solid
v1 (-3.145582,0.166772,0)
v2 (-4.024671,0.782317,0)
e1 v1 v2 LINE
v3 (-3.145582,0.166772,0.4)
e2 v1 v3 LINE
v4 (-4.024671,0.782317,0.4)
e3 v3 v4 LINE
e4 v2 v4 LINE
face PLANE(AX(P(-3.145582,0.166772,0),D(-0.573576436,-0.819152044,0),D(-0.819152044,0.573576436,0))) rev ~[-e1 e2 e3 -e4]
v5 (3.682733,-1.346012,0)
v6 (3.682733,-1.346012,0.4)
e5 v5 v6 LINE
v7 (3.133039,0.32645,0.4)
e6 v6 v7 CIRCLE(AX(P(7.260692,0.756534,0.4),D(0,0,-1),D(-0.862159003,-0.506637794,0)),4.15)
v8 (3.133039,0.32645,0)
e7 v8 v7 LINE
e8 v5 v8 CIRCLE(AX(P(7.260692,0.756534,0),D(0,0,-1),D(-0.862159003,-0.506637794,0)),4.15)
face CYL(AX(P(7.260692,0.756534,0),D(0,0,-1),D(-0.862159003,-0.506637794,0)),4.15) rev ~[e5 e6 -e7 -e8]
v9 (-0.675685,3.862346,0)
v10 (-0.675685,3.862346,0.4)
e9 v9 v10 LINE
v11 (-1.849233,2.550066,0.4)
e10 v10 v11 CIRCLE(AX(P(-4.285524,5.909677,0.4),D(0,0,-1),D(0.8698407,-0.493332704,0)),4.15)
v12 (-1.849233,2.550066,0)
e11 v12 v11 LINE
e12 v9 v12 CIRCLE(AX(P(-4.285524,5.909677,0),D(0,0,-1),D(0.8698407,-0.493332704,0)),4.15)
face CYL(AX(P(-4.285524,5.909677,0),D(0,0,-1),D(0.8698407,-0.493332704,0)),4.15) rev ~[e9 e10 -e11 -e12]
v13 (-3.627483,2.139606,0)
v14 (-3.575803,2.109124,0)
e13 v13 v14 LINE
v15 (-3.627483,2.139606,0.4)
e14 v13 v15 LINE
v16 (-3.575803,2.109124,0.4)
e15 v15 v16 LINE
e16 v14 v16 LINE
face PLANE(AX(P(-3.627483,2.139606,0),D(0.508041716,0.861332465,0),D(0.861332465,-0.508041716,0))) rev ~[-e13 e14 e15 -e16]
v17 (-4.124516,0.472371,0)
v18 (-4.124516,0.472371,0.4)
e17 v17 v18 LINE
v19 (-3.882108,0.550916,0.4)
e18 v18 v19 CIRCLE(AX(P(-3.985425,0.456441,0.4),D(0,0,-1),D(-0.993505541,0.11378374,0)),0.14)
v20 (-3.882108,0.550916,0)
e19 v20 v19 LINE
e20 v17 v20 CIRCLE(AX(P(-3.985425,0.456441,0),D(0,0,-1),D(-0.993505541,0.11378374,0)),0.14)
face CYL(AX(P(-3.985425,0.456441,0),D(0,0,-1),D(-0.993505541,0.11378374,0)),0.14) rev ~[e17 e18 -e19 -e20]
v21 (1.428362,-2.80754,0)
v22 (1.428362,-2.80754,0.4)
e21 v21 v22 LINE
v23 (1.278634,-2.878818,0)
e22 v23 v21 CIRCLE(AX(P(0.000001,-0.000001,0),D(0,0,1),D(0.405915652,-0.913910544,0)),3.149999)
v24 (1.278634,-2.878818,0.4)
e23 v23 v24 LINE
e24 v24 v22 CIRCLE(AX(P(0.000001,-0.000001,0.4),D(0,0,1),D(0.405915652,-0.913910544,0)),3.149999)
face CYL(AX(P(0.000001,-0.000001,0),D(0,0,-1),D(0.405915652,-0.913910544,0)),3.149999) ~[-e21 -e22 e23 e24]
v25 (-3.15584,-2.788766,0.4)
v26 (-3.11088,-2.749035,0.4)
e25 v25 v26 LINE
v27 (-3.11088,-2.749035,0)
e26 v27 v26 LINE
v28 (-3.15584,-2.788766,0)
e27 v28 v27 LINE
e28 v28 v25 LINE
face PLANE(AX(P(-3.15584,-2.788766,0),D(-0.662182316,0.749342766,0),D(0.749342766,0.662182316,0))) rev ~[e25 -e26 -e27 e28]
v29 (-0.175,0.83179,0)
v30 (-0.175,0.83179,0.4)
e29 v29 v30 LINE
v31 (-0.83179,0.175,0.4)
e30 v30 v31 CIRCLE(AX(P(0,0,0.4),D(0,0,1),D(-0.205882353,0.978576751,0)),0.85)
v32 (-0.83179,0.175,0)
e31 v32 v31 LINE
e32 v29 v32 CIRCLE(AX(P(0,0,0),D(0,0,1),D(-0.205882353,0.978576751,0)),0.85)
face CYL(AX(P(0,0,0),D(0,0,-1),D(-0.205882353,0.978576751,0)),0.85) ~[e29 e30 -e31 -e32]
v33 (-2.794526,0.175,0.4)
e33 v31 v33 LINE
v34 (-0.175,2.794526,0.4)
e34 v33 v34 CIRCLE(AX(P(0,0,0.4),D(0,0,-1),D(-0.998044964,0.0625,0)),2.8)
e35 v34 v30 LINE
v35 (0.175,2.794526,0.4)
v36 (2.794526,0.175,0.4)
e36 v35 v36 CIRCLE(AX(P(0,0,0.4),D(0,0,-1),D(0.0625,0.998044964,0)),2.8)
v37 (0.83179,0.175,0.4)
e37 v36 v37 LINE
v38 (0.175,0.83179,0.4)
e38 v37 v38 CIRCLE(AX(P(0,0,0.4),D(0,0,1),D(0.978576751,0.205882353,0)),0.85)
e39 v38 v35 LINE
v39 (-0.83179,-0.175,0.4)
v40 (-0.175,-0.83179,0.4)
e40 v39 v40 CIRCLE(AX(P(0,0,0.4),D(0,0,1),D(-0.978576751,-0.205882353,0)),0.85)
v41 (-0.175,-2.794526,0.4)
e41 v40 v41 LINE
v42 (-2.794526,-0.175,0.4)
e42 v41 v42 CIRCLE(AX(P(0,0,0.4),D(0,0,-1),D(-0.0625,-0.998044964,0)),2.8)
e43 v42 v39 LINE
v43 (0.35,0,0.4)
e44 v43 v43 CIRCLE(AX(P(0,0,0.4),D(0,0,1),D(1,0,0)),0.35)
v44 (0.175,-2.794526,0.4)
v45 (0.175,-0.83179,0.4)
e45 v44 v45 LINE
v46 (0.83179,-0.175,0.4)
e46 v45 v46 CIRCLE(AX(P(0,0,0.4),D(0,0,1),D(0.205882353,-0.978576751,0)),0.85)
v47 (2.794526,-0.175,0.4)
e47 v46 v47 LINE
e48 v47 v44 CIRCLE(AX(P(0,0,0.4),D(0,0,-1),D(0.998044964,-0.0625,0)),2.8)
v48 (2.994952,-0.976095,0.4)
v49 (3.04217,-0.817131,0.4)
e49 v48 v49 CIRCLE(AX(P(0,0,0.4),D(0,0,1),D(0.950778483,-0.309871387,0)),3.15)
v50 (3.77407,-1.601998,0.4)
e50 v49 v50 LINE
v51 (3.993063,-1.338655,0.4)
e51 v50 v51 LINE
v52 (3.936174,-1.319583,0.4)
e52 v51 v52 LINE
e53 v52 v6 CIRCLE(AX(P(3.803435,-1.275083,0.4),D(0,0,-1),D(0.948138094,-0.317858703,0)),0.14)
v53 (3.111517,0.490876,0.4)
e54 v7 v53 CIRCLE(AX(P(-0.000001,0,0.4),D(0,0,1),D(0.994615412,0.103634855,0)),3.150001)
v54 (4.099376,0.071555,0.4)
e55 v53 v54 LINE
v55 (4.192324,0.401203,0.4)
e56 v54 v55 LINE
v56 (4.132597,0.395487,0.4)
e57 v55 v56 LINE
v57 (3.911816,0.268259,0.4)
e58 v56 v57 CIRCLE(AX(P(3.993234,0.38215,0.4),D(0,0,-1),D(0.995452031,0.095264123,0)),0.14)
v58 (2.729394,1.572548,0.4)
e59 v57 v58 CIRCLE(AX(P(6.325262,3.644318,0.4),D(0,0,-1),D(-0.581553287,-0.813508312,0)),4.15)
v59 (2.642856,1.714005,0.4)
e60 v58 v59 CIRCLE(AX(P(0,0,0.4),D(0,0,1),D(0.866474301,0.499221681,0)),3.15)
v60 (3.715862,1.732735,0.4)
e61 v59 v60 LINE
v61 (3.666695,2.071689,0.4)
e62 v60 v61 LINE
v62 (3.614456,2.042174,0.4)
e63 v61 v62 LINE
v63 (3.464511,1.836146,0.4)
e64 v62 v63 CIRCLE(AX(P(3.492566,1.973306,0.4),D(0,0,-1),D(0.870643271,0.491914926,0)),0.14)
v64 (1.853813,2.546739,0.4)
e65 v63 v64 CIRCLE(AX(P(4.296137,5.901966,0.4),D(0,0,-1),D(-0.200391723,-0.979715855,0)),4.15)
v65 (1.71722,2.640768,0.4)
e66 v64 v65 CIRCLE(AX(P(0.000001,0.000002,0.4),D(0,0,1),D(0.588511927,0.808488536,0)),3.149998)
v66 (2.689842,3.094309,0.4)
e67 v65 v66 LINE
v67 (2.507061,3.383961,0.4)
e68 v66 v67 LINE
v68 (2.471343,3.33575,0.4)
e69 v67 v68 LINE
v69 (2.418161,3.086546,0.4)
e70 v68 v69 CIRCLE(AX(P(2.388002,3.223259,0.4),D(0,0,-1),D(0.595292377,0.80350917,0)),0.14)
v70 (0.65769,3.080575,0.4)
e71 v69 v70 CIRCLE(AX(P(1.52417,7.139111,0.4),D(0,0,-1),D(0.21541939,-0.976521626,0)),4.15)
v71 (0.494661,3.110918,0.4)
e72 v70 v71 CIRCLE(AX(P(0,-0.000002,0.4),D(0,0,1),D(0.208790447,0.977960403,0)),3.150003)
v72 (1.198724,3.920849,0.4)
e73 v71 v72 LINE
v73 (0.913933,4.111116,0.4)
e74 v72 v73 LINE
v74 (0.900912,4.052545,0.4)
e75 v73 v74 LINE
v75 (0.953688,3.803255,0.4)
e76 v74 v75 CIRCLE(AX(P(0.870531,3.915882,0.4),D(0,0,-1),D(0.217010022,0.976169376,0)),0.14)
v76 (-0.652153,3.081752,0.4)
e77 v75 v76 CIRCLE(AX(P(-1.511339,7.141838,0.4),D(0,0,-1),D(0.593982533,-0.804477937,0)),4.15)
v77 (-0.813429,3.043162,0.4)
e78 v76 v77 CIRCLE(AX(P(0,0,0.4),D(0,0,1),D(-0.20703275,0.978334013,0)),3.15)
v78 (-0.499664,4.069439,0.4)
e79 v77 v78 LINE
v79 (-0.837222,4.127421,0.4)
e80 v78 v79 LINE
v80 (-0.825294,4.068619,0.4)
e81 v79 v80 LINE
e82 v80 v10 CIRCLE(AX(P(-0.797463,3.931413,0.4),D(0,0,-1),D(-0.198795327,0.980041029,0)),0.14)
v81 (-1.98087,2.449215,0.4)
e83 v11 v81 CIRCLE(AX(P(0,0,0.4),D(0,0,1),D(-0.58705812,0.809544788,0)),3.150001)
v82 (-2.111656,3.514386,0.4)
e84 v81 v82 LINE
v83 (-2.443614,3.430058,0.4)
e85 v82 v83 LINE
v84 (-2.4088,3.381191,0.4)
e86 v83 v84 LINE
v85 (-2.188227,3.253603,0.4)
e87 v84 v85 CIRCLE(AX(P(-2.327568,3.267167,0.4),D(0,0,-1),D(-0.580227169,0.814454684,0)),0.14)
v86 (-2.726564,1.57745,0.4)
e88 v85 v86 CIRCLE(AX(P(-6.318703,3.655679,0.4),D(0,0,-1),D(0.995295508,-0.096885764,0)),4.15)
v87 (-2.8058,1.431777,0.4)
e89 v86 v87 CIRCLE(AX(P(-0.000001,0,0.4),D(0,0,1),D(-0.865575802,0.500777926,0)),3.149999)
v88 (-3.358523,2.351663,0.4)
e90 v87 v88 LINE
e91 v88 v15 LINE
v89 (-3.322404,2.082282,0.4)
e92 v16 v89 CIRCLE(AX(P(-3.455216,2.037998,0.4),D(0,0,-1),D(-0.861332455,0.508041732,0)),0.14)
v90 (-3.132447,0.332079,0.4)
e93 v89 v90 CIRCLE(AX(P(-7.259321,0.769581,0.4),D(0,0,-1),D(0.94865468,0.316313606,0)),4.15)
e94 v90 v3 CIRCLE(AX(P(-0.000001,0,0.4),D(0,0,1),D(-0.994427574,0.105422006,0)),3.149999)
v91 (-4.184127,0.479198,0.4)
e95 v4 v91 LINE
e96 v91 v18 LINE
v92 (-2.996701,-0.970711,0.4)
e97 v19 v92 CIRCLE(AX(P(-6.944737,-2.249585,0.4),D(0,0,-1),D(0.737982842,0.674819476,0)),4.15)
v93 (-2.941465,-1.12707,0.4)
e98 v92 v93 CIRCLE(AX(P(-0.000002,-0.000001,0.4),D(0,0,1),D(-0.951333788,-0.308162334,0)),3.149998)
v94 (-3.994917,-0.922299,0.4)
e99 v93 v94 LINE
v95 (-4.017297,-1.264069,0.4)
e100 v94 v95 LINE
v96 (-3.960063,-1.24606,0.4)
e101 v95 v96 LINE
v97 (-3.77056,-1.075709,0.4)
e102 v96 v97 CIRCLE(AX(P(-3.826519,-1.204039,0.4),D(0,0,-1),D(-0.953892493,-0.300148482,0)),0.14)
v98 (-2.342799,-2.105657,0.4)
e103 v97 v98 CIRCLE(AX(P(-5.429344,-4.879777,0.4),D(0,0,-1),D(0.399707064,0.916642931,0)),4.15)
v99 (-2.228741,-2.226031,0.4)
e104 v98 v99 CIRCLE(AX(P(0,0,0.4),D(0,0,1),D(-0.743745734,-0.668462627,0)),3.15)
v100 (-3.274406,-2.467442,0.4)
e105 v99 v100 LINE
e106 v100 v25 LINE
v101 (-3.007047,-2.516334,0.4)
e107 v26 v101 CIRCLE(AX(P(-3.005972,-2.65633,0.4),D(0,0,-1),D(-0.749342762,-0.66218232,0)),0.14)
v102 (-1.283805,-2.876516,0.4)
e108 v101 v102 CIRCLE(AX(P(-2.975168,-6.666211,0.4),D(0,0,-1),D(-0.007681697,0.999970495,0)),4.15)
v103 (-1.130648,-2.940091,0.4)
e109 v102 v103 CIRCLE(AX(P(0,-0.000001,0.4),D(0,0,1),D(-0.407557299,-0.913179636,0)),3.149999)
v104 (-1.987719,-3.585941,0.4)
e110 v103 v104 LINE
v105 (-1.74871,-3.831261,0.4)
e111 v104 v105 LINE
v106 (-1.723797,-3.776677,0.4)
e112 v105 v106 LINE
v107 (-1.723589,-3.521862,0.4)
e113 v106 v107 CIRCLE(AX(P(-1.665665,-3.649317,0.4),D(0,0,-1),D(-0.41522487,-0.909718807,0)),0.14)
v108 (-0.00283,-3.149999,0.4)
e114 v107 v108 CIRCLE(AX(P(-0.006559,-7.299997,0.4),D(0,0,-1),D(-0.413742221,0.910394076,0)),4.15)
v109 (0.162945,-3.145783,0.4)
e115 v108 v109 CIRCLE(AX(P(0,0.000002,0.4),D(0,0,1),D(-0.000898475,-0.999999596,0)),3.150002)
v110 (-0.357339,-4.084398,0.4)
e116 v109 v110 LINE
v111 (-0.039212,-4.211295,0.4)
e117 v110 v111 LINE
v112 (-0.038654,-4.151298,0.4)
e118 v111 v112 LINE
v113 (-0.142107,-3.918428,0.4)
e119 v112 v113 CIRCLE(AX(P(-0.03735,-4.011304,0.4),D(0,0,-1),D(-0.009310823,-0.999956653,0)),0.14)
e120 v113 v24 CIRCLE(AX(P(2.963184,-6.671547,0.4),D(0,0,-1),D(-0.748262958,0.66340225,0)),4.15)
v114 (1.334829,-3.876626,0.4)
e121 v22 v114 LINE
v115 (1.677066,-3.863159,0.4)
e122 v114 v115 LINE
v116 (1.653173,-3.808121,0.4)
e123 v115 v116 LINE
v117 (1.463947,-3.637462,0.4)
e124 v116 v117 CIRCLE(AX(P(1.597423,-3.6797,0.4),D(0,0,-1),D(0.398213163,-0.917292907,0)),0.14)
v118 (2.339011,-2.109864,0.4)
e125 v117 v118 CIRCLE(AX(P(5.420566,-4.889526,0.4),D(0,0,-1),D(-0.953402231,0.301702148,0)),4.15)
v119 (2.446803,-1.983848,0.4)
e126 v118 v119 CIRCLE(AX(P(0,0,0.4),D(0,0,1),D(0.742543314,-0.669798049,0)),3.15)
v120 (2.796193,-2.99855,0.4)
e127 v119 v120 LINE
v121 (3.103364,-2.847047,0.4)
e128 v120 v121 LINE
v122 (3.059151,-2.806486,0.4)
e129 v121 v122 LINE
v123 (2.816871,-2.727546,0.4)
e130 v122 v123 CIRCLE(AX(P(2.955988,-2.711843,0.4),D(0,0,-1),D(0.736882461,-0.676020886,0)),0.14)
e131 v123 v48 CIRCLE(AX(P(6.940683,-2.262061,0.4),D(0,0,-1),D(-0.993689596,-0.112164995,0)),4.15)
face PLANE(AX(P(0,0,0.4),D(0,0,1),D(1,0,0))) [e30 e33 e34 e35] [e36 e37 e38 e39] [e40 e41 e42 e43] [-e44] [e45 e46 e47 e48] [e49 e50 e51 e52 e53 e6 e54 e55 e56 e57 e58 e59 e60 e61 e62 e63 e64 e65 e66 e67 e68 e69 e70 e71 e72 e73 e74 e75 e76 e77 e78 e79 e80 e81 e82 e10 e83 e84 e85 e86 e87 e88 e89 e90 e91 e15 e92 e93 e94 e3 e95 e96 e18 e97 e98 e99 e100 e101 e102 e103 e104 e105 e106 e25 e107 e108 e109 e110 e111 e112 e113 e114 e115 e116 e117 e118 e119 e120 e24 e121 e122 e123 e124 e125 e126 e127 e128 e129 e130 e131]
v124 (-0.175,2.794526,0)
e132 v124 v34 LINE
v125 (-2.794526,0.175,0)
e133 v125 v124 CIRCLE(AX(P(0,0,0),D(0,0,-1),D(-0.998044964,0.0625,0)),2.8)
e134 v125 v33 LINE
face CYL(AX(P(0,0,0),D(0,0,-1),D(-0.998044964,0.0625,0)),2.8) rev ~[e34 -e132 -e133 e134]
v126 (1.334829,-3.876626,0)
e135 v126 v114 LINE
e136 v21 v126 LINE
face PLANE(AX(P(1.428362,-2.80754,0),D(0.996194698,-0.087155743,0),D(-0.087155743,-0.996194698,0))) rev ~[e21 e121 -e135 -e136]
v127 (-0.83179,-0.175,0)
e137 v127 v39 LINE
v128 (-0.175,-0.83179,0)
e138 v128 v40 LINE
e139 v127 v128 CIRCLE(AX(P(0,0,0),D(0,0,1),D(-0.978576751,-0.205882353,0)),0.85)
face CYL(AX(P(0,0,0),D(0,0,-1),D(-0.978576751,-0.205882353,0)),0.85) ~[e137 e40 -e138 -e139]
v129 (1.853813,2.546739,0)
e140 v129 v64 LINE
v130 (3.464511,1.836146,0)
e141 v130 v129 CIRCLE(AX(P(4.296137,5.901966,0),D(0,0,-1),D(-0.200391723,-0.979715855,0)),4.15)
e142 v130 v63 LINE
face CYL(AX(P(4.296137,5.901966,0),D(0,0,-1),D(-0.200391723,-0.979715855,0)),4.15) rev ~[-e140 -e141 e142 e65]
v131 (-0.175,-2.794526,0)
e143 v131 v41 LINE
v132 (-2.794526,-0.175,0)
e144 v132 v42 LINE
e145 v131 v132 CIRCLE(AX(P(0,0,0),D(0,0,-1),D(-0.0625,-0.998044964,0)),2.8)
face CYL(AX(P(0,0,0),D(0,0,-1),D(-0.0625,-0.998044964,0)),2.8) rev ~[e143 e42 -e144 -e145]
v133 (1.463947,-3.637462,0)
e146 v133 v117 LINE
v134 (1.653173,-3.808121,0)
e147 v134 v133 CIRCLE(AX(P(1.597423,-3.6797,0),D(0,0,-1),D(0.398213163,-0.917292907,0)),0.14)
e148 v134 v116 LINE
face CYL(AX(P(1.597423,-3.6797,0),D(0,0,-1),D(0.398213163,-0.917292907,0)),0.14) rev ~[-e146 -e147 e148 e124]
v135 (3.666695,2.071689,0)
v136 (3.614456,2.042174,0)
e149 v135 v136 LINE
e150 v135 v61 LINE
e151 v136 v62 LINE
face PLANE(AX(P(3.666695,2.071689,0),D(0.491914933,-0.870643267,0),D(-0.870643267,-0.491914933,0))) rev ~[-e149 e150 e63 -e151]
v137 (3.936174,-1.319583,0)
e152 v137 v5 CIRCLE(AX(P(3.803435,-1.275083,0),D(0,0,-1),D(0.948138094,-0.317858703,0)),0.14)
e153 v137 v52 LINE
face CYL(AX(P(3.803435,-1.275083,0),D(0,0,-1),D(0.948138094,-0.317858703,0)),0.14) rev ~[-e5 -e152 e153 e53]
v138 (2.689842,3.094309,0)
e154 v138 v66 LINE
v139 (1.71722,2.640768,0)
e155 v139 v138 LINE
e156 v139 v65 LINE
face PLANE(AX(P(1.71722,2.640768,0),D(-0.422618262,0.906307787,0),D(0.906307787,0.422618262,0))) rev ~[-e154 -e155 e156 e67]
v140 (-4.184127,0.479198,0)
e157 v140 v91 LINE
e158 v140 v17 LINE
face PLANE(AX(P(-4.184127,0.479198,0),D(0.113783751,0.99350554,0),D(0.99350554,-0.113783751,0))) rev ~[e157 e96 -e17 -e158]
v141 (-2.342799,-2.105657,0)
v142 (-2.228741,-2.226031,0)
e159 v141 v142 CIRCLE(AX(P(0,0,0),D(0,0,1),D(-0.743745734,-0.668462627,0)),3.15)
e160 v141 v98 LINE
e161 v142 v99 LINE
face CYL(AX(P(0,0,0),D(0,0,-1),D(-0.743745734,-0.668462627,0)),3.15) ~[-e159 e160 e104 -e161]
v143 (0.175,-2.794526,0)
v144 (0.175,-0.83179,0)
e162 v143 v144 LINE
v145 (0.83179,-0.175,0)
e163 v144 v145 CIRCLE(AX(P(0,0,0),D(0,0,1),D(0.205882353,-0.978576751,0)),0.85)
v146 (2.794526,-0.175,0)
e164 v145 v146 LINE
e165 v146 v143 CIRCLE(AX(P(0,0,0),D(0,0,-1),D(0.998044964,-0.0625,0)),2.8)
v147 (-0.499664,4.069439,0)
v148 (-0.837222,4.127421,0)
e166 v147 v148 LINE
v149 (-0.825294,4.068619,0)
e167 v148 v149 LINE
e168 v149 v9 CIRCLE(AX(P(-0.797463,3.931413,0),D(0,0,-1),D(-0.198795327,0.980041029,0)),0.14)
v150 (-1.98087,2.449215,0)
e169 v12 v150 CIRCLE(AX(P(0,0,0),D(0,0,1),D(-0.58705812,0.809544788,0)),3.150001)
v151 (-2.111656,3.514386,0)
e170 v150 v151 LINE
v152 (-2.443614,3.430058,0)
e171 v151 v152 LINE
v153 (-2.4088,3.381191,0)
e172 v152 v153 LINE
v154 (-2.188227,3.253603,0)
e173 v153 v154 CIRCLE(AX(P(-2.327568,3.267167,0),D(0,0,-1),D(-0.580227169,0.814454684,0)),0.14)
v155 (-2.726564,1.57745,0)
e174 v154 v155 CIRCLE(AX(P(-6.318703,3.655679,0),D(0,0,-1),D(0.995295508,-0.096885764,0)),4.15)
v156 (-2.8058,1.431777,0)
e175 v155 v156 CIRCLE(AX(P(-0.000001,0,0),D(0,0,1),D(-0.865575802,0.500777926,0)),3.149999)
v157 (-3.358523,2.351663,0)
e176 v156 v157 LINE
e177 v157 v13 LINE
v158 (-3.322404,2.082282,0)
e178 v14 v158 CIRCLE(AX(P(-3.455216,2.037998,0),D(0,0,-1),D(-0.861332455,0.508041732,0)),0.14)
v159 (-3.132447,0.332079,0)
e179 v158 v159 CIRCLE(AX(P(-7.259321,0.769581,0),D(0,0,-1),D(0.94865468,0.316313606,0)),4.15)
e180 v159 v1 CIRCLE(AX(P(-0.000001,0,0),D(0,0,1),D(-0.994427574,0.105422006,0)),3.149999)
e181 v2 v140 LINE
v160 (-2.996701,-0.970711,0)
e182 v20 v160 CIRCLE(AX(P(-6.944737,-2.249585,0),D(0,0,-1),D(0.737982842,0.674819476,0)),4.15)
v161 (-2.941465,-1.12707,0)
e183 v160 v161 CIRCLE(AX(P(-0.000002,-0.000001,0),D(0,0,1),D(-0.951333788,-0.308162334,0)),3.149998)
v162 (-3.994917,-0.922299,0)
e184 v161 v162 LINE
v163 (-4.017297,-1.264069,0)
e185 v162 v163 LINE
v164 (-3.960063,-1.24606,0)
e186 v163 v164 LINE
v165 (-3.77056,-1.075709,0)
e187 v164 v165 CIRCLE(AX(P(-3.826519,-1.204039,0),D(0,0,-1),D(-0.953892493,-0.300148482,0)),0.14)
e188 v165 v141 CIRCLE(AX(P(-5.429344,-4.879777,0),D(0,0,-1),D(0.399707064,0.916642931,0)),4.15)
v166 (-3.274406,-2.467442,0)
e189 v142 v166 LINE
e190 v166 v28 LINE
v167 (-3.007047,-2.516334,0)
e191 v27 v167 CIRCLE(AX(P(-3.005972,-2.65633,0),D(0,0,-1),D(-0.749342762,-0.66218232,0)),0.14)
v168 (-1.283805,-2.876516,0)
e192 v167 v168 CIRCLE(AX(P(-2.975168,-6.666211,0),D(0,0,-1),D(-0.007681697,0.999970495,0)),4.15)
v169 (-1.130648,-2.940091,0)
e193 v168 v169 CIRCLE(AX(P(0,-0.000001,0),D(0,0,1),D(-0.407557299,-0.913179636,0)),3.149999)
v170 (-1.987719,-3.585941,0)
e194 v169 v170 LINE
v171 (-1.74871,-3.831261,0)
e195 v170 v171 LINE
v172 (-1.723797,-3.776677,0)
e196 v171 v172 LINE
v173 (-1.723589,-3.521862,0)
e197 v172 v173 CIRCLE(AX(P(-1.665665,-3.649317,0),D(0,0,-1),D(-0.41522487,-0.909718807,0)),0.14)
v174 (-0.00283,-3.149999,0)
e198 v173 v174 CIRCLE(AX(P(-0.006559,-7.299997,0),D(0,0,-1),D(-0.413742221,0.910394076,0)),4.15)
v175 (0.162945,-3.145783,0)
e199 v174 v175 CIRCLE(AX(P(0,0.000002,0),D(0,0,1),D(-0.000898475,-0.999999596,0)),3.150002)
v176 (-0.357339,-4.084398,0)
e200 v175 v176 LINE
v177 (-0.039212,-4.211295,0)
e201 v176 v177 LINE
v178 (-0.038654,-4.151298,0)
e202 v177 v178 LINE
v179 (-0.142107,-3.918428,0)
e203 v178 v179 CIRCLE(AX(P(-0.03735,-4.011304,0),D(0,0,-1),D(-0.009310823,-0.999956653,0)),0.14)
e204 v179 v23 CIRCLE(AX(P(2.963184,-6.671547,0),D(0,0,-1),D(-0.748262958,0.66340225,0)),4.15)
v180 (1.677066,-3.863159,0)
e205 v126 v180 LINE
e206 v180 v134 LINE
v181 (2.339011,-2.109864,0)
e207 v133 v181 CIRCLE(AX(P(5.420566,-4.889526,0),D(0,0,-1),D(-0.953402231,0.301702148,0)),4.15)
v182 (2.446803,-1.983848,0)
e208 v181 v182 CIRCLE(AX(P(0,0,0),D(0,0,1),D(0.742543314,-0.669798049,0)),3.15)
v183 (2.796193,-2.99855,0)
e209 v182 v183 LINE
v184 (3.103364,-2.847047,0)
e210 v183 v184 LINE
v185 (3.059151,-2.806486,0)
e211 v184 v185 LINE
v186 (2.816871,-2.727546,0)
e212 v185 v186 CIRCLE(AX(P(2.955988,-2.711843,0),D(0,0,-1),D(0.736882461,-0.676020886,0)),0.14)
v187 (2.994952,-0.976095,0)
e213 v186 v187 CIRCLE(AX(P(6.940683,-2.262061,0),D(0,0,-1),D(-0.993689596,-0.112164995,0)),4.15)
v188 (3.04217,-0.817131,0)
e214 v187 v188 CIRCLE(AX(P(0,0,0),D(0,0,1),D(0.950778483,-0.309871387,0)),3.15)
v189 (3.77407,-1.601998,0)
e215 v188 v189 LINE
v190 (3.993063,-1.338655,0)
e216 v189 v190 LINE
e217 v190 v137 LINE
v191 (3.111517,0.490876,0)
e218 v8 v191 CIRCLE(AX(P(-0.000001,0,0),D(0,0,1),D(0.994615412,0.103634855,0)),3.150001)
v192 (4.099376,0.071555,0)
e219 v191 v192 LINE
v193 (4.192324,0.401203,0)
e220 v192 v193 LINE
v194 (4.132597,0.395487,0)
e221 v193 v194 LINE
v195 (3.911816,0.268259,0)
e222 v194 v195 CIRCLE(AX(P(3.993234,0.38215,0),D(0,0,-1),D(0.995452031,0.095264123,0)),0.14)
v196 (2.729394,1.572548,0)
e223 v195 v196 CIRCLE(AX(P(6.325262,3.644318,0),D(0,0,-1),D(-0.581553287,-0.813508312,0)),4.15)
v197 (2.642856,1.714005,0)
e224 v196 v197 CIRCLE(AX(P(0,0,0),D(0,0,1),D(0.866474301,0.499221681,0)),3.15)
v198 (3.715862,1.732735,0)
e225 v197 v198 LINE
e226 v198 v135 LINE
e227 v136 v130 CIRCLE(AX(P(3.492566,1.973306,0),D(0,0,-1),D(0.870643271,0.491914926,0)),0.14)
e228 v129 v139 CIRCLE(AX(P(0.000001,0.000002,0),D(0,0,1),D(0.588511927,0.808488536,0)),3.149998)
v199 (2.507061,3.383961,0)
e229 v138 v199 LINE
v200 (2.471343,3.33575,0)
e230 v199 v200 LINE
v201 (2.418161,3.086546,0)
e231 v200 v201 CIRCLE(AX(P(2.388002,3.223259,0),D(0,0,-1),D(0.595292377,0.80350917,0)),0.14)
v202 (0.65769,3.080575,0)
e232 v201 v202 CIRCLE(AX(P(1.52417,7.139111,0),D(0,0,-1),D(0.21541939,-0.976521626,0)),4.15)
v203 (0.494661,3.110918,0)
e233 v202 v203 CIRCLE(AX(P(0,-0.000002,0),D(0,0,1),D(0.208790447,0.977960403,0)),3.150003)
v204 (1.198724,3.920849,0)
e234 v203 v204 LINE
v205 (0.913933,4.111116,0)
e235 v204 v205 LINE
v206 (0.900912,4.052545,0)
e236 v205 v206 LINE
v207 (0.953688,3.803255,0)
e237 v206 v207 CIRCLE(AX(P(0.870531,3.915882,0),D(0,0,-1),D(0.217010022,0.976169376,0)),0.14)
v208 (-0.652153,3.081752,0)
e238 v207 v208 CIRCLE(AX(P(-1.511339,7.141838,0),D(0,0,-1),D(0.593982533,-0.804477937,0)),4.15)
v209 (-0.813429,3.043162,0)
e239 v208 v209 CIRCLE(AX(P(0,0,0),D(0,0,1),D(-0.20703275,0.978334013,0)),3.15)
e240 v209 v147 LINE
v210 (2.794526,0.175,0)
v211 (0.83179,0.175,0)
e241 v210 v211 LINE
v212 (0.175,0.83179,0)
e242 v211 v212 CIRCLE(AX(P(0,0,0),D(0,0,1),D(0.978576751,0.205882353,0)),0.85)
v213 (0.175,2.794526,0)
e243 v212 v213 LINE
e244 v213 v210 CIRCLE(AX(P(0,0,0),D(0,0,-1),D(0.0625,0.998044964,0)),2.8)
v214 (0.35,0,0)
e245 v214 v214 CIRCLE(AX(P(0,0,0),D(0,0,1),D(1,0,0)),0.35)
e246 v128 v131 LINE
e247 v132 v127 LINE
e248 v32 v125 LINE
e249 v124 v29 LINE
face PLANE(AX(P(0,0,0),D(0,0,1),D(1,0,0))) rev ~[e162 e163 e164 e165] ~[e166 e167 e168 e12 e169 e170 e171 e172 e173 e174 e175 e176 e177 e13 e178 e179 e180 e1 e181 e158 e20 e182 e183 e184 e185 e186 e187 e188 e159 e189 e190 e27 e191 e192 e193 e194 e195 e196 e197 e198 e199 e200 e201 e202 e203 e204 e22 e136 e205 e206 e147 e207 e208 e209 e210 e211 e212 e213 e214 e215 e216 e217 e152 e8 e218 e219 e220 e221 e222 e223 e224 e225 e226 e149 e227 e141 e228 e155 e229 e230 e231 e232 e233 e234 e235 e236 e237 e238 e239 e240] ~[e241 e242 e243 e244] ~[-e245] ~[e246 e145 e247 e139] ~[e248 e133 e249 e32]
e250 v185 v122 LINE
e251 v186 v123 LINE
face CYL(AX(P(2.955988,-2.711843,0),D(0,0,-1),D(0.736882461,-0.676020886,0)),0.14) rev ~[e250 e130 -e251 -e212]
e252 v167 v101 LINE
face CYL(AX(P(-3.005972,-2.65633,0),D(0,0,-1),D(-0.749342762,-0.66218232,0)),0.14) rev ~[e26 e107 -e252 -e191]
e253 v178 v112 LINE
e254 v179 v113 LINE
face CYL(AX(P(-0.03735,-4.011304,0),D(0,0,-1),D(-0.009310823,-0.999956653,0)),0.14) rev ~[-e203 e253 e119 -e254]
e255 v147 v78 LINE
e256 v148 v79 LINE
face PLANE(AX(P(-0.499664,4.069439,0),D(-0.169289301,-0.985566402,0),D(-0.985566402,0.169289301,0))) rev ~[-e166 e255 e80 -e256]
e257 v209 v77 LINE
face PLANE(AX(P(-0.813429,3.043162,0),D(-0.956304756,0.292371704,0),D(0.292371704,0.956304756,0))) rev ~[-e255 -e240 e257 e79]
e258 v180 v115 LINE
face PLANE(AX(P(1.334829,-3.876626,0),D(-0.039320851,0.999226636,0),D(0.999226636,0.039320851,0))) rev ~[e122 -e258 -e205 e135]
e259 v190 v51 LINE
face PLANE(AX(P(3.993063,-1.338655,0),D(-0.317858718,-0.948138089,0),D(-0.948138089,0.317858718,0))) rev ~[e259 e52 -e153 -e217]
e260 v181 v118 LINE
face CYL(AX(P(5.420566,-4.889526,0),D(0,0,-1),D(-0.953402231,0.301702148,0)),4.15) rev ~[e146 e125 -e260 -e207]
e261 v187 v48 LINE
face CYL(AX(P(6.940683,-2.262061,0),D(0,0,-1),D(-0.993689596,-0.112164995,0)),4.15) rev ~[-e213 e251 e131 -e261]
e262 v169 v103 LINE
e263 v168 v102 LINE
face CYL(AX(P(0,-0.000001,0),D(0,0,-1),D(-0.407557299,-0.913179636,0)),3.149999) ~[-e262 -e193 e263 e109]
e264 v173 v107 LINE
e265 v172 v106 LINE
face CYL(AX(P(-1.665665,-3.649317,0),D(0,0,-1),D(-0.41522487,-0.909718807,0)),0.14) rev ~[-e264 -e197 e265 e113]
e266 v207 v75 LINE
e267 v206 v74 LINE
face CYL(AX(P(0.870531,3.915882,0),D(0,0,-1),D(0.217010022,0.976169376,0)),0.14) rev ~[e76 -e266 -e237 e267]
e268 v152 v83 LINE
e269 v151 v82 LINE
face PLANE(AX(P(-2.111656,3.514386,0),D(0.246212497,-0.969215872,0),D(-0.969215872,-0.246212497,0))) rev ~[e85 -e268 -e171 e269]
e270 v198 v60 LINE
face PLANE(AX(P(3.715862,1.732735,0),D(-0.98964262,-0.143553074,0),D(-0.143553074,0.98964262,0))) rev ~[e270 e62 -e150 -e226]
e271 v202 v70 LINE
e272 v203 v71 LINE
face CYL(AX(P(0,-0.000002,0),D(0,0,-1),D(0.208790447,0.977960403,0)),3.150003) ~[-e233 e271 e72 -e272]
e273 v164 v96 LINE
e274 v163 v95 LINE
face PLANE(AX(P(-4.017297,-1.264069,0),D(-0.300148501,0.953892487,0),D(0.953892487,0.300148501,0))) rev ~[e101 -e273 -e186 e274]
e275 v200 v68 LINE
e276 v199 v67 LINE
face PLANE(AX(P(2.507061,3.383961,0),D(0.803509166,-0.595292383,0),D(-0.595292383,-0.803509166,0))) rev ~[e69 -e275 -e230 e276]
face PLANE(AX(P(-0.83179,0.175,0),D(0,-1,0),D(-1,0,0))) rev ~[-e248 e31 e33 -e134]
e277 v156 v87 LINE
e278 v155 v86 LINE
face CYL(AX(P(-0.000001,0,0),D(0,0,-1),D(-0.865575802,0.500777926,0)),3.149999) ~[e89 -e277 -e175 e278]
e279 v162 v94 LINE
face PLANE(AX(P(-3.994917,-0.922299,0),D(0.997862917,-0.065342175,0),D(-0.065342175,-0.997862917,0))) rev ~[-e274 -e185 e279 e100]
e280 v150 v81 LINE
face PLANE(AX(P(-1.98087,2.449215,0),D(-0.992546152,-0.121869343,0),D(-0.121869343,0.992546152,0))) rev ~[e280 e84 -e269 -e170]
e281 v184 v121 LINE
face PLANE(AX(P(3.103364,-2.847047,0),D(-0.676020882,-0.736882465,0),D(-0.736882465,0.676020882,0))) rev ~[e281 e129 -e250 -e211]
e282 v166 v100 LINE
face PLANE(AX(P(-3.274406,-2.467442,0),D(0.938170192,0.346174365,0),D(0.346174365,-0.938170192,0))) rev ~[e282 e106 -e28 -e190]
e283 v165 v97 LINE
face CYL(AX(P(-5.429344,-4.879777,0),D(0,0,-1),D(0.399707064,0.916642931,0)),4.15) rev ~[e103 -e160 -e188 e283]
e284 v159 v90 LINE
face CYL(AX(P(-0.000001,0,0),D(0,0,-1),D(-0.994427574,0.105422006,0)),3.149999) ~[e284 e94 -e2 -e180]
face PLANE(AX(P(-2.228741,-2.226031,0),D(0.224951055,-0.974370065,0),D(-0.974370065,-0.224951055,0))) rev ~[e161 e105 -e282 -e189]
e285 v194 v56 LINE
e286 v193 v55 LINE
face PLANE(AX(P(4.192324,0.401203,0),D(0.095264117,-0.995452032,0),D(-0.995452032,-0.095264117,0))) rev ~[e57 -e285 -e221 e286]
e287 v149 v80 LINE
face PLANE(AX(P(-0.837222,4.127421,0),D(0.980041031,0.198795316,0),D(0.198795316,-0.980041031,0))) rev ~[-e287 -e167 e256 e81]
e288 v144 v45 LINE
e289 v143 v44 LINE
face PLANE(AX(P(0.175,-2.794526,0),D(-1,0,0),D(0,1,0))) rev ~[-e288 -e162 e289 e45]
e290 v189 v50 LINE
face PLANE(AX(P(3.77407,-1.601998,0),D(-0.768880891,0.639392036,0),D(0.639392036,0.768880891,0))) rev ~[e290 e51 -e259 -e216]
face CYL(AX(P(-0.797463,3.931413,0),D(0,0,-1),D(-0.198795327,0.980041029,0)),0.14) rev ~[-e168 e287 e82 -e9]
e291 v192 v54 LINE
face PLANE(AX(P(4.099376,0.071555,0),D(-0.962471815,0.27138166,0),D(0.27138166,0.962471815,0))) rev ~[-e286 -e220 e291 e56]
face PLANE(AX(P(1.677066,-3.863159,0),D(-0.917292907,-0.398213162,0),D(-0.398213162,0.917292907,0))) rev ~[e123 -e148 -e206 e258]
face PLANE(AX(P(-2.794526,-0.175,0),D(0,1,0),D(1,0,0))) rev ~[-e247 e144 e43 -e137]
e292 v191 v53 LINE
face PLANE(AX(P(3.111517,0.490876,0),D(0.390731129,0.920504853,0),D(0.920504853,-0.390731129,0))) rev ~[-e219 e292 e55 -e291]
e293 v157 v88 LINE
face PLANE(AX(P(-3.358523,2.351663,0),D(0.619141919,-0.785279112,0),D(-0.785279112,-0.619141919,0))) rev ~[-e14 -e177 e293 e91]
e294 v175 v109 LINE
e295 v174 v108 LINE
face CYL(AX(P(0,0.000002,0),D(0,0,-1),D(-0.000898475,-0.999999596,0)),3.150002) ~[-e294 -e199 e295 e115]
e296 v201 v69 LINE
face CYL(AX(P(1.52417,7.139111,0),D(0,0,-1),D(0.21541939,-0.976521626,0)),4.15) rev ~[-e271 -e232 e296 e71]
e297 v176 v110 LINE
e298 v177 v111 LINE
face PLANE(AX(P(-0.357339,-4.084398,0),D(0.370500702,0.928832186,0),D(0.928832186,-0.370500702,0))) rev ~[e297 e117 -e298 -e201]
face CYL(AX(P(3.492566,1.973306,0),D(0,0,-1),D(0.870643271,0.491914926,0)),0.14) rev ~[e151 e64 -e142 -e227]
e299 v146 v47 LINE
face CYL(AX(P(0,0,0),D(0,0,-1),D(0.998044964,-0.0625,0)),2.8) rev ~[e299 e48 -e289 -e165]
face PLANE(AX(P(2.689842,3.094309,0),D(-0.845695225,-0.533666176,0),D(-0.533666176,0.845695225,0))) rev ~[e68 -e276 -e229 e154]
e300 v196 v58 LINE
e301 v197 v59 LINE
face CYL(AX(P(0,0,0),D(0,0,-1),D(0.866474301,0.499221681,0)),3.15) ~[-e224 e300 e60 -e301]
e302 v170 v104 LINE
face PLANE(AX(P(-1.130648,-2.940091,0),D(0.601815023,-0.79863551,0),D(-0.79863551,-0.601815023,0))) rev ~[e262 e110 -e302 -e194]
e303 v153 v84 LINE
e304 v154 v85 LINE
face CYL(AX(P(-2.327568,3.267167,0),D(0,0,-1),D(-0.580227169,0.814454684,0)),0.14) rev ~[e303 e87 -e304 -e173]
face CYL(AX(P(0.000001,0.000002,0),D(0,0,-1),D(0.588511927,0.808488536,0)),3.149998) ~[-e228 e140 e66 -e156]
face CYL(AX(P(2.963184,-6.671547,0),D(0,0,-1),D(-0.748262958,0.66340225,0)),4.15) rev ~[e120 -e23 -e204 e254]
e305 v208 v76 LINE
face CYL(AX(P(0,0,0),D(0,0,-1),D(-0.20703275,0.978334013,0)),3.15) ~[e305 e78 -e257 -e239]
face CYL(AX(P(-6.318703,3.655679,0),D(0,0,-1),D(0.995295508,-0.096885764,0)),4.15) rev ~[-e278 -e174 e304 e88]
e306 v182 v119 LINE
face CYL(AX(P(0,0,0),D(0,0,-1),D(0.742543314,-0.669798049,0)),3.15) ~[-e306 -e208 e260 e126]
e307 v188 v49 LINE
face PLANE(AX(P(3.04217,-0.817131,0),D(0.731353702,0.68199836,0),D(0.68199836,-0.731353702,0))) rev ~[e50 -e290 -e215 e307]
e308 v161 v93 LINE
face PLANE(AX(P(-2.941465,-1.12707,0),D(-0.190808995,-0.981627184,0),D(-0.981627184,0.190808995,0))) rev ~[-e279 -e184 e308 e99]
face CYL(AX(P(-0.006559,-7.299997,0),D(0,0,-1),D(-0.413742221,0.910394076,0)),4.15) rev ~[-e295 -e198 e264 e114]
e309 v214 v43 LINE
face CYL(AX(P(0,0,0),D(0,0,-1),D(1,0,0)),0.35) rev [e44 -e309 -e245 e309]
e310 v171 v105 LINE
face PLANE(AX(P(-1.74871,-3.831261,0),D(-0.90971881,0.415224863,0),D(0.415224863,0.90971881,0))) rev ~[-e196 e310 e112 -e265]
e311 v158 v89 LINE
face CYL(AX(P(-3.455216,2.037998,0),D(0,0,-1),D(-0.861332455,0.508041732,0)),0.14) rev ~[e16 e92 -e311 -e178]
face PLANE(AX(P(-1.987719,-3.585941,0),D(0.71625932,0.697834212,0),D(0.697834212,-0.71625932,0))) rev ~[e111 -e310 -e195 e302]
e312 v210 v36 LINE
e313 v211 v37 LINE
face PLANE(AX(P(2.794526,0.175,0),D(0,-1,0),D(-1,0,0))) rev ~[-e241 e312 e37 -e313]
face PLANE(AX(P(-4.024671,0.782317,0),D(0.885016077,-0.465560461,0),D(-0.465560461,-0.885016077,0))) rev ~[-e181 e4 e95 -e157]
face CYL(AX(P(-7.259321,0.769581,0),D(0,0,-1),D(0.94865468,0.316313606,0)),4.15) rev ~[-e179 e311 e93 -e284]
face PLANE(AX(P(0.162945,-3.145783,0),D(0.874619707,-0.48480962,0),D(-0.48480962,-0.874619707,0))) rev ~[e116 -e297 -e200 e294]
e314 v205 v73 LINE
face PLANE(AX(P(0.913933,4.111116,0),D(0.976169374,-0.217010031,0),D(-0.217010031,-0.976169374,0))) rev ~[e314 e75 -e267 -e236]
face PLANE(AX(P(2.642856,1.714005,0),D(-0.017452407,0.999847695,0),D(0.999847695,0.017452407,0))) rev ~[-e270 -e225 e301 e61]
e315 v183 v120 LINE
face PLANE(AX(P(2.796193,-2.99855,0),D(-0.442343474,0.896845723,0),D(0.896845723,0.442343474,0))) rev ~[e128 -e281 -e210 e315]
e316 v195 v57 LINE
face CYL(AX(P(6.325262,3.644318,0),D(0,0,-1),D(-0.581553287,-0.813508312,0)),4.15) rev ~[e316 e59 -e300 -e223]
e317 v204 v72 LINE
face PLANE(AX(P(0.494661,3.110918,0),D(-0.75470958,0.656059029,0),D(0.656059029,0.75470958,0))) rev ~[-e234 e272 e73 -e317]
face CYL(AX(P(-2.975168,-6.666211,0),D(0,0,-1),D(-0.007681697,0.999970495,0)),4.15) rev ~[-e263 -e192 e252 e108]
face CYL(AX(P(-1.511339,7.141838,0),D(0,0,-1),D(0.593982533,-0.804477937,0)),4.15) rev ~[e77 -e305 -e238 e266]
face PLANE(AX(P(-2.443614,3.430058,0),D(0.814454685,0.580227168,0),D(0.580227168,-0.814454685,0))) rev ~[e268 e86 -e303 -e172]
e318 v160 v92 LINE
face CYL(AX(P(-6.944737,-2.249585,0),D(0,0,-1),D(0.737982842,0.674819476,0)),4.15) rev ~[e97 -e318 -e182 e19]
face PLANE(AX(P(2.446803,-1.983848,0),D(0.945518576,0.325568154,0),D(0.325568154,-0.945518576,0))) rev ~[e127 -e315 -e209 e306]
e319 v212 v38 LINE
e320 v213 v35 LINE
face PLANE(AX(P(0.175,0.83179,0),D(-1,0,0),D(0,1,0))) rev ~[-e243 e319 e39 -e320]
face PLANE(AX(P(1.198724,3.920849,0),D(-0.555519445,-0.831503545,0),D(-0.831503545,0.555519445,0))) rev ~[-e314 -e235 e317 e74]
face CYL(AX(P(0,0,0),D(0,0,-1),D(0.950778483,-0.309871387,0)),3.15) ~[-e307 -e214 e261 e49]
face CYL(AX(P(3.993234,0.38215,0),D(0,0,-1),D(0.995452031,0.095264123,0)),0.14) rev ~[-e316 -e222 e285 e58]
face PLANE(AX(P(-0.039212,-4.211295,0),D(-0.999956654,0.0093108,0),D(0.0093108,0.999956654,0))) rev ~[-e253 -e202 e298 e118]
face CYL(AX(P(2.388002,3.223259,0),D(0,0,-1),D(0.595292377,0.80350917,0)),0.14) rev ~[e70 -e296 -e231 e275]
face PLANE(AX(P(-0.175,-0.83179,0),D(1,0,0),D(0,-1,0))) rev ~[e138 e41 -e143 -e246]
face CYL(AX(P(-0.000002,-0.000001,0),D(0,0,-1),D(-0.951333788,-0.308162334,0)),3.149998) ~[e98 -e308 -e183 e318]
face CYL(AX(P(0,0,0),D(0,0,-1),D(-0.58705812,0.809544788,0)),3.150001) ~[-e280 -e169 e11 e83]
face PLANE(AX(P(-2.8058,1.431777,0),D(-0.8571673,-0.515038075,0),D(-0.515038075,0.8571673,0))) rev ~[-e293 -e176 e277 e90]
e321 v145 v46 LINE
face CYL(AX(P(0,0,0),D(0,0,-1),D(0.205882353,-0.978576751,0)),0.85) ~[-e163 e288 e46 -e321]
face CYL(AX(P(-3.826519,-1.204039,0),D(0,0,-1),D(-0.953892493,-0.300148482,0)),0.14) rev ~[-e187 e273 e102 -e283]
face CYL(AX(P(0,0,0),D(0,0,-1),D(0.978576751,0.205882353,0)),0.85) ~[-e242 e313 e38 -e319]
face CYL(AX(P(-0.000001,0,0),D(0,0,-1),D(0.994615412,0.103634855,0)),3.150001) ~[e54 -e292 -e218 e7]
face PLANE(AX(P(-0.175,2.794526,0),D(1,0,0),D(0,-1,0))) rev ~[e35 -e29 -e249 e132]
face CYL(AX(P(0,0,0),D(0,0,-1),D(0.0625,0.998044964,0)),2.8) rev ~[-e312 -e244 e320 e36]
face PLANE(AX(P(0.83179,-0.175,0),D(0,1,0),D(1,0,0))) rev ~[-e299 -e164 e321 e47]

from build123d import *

# Parameters (mm, degrees)
SKETCH1_R           = 0.35
BOSS_EXTRUDE1_DEPTH = 0.4


with BuildPart() as part:
    # Sketch1 → Boss-Extrude1 (new body)
    with BuildSketch(Plane.XY):
        with BuildLine():
            Line((1.717219809, 2.640768094), (2.689842019, 3.094309279))
            Line((2.689842019, 3.094309279), (2.507060643, 3.38396102))
            Line((2.507060643, 3.38396102), (2.4713431, 3.33575047))
            ThreePointArc((2.4713431, 3.33575047), (2.524919075, 3.194040009), (2.418160882, 3.086546159))
            ThreePointArc((2.418160882, 3.086546159), (1.538245687, 2.989134777), (0.657689973, 3.080575255))
            ThreePointArc((0.657689973, 3.080575255), (0.576375294, 3.096819581), (0.494661207, 3.110917918))
            Line((0.494661207, 3.110917918), (1.198723989, 3.920849499))
            Line((1.198723989, 3.920849499), (0.913932917, 4.111115649))
            Line((0.913932917, 4.111115649), (0.900912315, 4.052545486))
            ThreePointArc((0.900912315, 4.052545486), (1.007495241, 3.94487785), (0.953688466, 3.803254863))
            ThreePointArc((0.953688466, 3.803254863), (0.189466715, 3.356371385), (-0.65215315, 3.081752143))
            ThreePointArc((-0.65215315, 3.081752143), (-0.733044969, 3.063518414), (-0.813428812, 3.043161771))
            Line((-0.813428812, 3.043161771), (-0.499664308, 4.069439222))
            Line((-0.499664308, 4.069439222), (-0.837222113, 4.127421033))
            Line((-0.837222113, 4.127421033), (-0.825294394, 4.068618571))
            ThreePointArc((-0.825294394, 4.068618571), (-0.684133674, 4.013610473), (-0.675685349, 3.862346249))
            ThreePointArc((-0.675685349, 3.862346249), (-1.192072773, 3.143260888), (-1.84923307, 2.550066088))
            ThreePointArc((-1.84923307, 2.550066088), (-1.915715097, 2.500507082), (-1.9808696, 2.449215309))
            Line((-1.9808696, 2.449215309), (-2.111656107, 3.514385933))
            Line((-2.111656107, 3.514385933), (-2.443613834, 3.430057825))
            Line((-2.443613834, 3.430057825), (-2.408800204, 3.381190544))
            ThreePointArc((-2.408800204, 3.381190544), (-2.25746966, 3.388353383), (-2.18822703, 3.253602881))
            ThreePointArc((-2.18822703, 3.253602881), (-2.367492049, 2.386652029), (-2.726563791, 1.577450441))
            ThreePointArc((-2.726563791, 1.577450441), (-2.767140682, 1.505135359), (-2.805800038, 1.431777269))
            Line((-2.805800038, 1.431777269), (-3.358523382, 2.351663389))
            Line((-3.358523382, 2.351663389), (-3.627482524, 2.139606457))
            Line((-3.627482524, 2.139606457), (-3.575802576, 2.109123954))
            ThreePointArc((-3.575802576, 2.109123954), (-3.440468635, 2.17721921), (-3.322404377, 2.082282016))
            ThreePointArc((-3.322404377, 2.082282016), (-3.133550441, 1.217369352), (-3.132446863, 0.332079281))
            ThreePointArc((-3.132446863, 0.332079281), (-3.140102504, 0.249512058), (-3.14558216, 0.166771932))
            Line((-3.14558216, 0.166771932), (-4.024671452, 0.782316881))
            Line((-4.024671452, 0.782316881), (-4.18412653, 0.479197696))
            Line((-4.18412653, 0.479197696), (-4.124516198, 0.472370671))
            ThreePointArc((-4.124516198, 0.472370671), (-4.028579326, 0.589624057), (-3.882107824, 0.550915675))
            ThreePointArc((-3.882107824, 0.550915675), (-3.357789496, -0.162407546), (-2.996701415, -0.970711403))
            ThreePointArc((-2.996701415, -0.970711403), (-2.970112076, -1.049254144), (-2.941464549, -1.127069787))
            Line((-2.941464549, -1.127069787), (-3.994917266, -0.922299323))
            Line((-3.994917266, -0.922299323), (-4.017297048, -1.264068701))
            Line((-4.017297048, -1.264068701), (-3.960063499, -1.246059791))
            ThreePointArc((-3.960063499, -1.246059791), (-3.920112054, -1.099922453), (-3.770559561, -1.075708992))
            ThreePointArc((-3.770559561, -1.075708992), (-3.001436241, -1.514102704), (-2.342799068, -2.105657267))
            ThreePointArc((-2.342799068, -2.105657267), (-2.286562287, -2.166594772), (-2.228740996, -2.226030901))
            Line((-2.228740996, -2.226030901), (-3.274405591, -2.467441595))
            Line((-3.274405591, -2.467441595), (-3.15584041, -2.788766135))
            Line((-3.15584041, -2.788766135), (-3.110879844, -2.749035196))
            ThreePointArc((-3.110879844, -2.749035196), (-3.133821794, -2.599282378), (-3.007047295, -2.516333802))
            ThreePointArc((-3.007047295, -2.516333802), (-2.126107394, -2.603995748), (-1.283805479, -2.87651586))
            ThreePointArc((-1.283805479, -2.87651586), (-1.207645106, -2.909311482), (-1.130647877, -2.940091049))
            Line((-1.130647877, -2.940091049), (-1.987719443, -3.585940799))
            Line((-1.987719443, -3.585940799), (-1.748710296, -3.83126057))
            Line((-1.748710296, -3.83126057), (-1.723796804, -3.776677441))
            ThreePointArc((-1.723796804, -3.776677441), (-1.805665276, -3.649202766), (-1.723589234, -3.521861637))
            ThreePointArc((-1.723589234, -3.521861637), (-0.883155263, -3.243634272), (-0.002830259, -3.149998729))
            ThreePointArc((-0.002830259, -3.149998729), (0.080084884, -3.148981805), (0.162944532, -3.145782745))
            Line((0.162944532, -3.145782745), (-0.357338545, -4.084398262))
            Line((-0.357338545, -4.084398262), (-0.039212284, -4.211295246))
            Line((-0.039212284, -4.211295246), (-0.038653636, -4.151297847))
            ThreePointArc((-0.038653636, -4.151297847), (-0.165292828, -4.068142844), (-0.142106936, -3.9184276))
            ThreePointArc((-0.142106936, -3.9184276), (0.512502436, -3.322418962), (1.278634338, -2.8788182))
            ThreePointArc((1.278634338, -2.8788182), (1.353967471, -2.844164568), (1.42836235, -2.807540026))
            Line((1.42836235, -2.807540026), (1.334829433, -3.87662616))
            Line((1.334829433, -3.87662616), (1.677065887, -3.863158716))
            Line((1.677065887, -3.863158716), (1.653173097, -3.808121141))
            ThreePointArc((1.653173097, -3.808121141), (1.503660251, -3.783664066), (1.463946943, -3.637461833))
            ThreePointArc((1.463946943, -3.637461833), (1.819543808, -2.826727231), (2.339011442, -2.109863852))
            ThreePointArc((2.339011442, -2.109863852), (2.393736781, -2.047565438), (2.446803342, -1.98384813))
            Line((2.446803342, -1.98384813), (2.796193276, -2.998550177))
            Line((2.796193276, -2.998550177), (3.103364131, -2.847046948))
            Line((3.103364131, -2.847046948), (3.059151183, -2.806485695))
            ThreePointArc((3.059151183, -2.806485695), (2.912616813, -2.844955398), (2.816871095, -2.72754587))
            ThreePointArc((2.816871095, -2.72754587), (2.811969526, -1.842268681), (2.994952219, -0.976094876))
            ThreePointArc((2.994952219, -0.976094876), (3.019607256, -0.896923642), (3.042169808, -0.81713087))
            Line((3.042169808, -0.81713087), (3.774069899, -1.601997627))
            Line((3.774069899, -1.601997627), (3.993062523, -1.338654898))
            Line((3.993062523, -1.338654898), (3.936174238, -1.319583375))
            ThreePointArc((3.936174238, -1.319583375), (3.817955468, -1.414328096), (3.682732645, -1.346012447))
            ThreePointArc((3.682732645, -1.346012447), (3.318180166, -0.53926514), (3.133038549, 0.326449772))
            ThreePointArc((3.133038549, 0.326449772), (3.123360204, 0.4088044), (3.111517477, 0.490875741))
            Line((3.111517477, 0.490875741), (4.09937555, 0.071554866))
            Line((4.09937555, 0.071554866), (4.19232413, 0.401202745))
            Line((4.19232413, 0.401202745), (4.132597008, 0.395486898))
            ThreePointArc((4.132597008, 0.395486898), (4.063134937, 0.260849383), (3.911816263, 0.268258756))
            ThreePointArc((3.911816263, 0.268258756), (3.250647311, 0.856982243), (2.72939405, 1.572548288))
            ThreePointArc((2.72939405, 1.572548288), (2.687055797, 1.643846447), (2.642855506, 1.714005476))
            Line((2.642855506, 1.714005476), (3.715861927, 1.732734873))
            Line((3.715861927, 1.732734873), (3.666694808, 2.071688789))
            Line((3.666694808, 2.071688789), (3.614456212, 2.042173893))
            ThreePointArc((3.614456212, 2.042173893), (3.605761463, 1.890923633), (3.464511313, 1.836145584))
            ThreePointArc((3.464511313, 1.836145584), (2.621048005, 2.105049611), (1.853812525, 2.546738919))
            ThreePointArc((1.853812525, 2.546738919), (1.786135033, 2.59465251), (1.717219809, 2.640768094))
        make_face()
        with BuildLine():
            ThreePointArc((-0.831790238, -0.175), (-0.601040764, -0.601040764), (-0.175, -0.831790238))
            Line((-0.175, -0.831790238), (-0.175, -2.794525899))
            ThreePointArc((-0.175, -2.794525899), (-1.979898987, -1.979898987), (-2.794525899, -0.175))
            Line((-2.794525899, -0.175), (-0.831790238, -0.175))
        make_face(mode=Mode.SUBTRACT)
        with BuildLine():
            ThreePointArc((0.175, -0.831790238), (0.601040764, -0.601040764), (0.831790238, -0.175))
            Line((0.831790238, -0.175), (2.794525899, -0.175))
            ThreePointArc((2.794525899, -0.175), (1.979898987, -1.979898987), (0.175, -2.794525899))
            Line((0.175, -2.794525899), (0.175, -0.831790238))
        make_face(mode=Mode.SUBTRACT)
        with BuildLine():
            Line((-0.175, 2.794525899), (-0.175, 0.831790238))
            ThreePointArc((-0.175, 0.831790238), (-0.601040764, 0.601040764), (-0.831790238, 0.175))
            Line((-0.831790238, 0.175), (-2.794525899, 0.175))
            ThreePointArc((-2.794525899, 0.175), (-1.979898987, 1.979898987), (-0.175, 2.794525899))
        make_face(mode=Mode.SUBTRACT)
        Circle(SKETCH1_R, mode=Mode.SUBTRACT)
        with BuildLine():
            Line((2.794525899, 0.175), (0.831790238, 0.175))
            ThreePointArc((0.831790238, 0.175), (0.601040764, 0.601040764), (0.175, 0.831790238))
            Line((0.175, 0.831790238), (0.175, 2.794525899))
            ThreePointArc((0.175, 2.794525899), (1.979898987, 1.979898987), (2.794525899, 0.175))
        make_face(mode=Mode.SUBTRACT)
    extrude(amount=BOSS_EXTRUDE1_DEPTH)


solid = part.part
